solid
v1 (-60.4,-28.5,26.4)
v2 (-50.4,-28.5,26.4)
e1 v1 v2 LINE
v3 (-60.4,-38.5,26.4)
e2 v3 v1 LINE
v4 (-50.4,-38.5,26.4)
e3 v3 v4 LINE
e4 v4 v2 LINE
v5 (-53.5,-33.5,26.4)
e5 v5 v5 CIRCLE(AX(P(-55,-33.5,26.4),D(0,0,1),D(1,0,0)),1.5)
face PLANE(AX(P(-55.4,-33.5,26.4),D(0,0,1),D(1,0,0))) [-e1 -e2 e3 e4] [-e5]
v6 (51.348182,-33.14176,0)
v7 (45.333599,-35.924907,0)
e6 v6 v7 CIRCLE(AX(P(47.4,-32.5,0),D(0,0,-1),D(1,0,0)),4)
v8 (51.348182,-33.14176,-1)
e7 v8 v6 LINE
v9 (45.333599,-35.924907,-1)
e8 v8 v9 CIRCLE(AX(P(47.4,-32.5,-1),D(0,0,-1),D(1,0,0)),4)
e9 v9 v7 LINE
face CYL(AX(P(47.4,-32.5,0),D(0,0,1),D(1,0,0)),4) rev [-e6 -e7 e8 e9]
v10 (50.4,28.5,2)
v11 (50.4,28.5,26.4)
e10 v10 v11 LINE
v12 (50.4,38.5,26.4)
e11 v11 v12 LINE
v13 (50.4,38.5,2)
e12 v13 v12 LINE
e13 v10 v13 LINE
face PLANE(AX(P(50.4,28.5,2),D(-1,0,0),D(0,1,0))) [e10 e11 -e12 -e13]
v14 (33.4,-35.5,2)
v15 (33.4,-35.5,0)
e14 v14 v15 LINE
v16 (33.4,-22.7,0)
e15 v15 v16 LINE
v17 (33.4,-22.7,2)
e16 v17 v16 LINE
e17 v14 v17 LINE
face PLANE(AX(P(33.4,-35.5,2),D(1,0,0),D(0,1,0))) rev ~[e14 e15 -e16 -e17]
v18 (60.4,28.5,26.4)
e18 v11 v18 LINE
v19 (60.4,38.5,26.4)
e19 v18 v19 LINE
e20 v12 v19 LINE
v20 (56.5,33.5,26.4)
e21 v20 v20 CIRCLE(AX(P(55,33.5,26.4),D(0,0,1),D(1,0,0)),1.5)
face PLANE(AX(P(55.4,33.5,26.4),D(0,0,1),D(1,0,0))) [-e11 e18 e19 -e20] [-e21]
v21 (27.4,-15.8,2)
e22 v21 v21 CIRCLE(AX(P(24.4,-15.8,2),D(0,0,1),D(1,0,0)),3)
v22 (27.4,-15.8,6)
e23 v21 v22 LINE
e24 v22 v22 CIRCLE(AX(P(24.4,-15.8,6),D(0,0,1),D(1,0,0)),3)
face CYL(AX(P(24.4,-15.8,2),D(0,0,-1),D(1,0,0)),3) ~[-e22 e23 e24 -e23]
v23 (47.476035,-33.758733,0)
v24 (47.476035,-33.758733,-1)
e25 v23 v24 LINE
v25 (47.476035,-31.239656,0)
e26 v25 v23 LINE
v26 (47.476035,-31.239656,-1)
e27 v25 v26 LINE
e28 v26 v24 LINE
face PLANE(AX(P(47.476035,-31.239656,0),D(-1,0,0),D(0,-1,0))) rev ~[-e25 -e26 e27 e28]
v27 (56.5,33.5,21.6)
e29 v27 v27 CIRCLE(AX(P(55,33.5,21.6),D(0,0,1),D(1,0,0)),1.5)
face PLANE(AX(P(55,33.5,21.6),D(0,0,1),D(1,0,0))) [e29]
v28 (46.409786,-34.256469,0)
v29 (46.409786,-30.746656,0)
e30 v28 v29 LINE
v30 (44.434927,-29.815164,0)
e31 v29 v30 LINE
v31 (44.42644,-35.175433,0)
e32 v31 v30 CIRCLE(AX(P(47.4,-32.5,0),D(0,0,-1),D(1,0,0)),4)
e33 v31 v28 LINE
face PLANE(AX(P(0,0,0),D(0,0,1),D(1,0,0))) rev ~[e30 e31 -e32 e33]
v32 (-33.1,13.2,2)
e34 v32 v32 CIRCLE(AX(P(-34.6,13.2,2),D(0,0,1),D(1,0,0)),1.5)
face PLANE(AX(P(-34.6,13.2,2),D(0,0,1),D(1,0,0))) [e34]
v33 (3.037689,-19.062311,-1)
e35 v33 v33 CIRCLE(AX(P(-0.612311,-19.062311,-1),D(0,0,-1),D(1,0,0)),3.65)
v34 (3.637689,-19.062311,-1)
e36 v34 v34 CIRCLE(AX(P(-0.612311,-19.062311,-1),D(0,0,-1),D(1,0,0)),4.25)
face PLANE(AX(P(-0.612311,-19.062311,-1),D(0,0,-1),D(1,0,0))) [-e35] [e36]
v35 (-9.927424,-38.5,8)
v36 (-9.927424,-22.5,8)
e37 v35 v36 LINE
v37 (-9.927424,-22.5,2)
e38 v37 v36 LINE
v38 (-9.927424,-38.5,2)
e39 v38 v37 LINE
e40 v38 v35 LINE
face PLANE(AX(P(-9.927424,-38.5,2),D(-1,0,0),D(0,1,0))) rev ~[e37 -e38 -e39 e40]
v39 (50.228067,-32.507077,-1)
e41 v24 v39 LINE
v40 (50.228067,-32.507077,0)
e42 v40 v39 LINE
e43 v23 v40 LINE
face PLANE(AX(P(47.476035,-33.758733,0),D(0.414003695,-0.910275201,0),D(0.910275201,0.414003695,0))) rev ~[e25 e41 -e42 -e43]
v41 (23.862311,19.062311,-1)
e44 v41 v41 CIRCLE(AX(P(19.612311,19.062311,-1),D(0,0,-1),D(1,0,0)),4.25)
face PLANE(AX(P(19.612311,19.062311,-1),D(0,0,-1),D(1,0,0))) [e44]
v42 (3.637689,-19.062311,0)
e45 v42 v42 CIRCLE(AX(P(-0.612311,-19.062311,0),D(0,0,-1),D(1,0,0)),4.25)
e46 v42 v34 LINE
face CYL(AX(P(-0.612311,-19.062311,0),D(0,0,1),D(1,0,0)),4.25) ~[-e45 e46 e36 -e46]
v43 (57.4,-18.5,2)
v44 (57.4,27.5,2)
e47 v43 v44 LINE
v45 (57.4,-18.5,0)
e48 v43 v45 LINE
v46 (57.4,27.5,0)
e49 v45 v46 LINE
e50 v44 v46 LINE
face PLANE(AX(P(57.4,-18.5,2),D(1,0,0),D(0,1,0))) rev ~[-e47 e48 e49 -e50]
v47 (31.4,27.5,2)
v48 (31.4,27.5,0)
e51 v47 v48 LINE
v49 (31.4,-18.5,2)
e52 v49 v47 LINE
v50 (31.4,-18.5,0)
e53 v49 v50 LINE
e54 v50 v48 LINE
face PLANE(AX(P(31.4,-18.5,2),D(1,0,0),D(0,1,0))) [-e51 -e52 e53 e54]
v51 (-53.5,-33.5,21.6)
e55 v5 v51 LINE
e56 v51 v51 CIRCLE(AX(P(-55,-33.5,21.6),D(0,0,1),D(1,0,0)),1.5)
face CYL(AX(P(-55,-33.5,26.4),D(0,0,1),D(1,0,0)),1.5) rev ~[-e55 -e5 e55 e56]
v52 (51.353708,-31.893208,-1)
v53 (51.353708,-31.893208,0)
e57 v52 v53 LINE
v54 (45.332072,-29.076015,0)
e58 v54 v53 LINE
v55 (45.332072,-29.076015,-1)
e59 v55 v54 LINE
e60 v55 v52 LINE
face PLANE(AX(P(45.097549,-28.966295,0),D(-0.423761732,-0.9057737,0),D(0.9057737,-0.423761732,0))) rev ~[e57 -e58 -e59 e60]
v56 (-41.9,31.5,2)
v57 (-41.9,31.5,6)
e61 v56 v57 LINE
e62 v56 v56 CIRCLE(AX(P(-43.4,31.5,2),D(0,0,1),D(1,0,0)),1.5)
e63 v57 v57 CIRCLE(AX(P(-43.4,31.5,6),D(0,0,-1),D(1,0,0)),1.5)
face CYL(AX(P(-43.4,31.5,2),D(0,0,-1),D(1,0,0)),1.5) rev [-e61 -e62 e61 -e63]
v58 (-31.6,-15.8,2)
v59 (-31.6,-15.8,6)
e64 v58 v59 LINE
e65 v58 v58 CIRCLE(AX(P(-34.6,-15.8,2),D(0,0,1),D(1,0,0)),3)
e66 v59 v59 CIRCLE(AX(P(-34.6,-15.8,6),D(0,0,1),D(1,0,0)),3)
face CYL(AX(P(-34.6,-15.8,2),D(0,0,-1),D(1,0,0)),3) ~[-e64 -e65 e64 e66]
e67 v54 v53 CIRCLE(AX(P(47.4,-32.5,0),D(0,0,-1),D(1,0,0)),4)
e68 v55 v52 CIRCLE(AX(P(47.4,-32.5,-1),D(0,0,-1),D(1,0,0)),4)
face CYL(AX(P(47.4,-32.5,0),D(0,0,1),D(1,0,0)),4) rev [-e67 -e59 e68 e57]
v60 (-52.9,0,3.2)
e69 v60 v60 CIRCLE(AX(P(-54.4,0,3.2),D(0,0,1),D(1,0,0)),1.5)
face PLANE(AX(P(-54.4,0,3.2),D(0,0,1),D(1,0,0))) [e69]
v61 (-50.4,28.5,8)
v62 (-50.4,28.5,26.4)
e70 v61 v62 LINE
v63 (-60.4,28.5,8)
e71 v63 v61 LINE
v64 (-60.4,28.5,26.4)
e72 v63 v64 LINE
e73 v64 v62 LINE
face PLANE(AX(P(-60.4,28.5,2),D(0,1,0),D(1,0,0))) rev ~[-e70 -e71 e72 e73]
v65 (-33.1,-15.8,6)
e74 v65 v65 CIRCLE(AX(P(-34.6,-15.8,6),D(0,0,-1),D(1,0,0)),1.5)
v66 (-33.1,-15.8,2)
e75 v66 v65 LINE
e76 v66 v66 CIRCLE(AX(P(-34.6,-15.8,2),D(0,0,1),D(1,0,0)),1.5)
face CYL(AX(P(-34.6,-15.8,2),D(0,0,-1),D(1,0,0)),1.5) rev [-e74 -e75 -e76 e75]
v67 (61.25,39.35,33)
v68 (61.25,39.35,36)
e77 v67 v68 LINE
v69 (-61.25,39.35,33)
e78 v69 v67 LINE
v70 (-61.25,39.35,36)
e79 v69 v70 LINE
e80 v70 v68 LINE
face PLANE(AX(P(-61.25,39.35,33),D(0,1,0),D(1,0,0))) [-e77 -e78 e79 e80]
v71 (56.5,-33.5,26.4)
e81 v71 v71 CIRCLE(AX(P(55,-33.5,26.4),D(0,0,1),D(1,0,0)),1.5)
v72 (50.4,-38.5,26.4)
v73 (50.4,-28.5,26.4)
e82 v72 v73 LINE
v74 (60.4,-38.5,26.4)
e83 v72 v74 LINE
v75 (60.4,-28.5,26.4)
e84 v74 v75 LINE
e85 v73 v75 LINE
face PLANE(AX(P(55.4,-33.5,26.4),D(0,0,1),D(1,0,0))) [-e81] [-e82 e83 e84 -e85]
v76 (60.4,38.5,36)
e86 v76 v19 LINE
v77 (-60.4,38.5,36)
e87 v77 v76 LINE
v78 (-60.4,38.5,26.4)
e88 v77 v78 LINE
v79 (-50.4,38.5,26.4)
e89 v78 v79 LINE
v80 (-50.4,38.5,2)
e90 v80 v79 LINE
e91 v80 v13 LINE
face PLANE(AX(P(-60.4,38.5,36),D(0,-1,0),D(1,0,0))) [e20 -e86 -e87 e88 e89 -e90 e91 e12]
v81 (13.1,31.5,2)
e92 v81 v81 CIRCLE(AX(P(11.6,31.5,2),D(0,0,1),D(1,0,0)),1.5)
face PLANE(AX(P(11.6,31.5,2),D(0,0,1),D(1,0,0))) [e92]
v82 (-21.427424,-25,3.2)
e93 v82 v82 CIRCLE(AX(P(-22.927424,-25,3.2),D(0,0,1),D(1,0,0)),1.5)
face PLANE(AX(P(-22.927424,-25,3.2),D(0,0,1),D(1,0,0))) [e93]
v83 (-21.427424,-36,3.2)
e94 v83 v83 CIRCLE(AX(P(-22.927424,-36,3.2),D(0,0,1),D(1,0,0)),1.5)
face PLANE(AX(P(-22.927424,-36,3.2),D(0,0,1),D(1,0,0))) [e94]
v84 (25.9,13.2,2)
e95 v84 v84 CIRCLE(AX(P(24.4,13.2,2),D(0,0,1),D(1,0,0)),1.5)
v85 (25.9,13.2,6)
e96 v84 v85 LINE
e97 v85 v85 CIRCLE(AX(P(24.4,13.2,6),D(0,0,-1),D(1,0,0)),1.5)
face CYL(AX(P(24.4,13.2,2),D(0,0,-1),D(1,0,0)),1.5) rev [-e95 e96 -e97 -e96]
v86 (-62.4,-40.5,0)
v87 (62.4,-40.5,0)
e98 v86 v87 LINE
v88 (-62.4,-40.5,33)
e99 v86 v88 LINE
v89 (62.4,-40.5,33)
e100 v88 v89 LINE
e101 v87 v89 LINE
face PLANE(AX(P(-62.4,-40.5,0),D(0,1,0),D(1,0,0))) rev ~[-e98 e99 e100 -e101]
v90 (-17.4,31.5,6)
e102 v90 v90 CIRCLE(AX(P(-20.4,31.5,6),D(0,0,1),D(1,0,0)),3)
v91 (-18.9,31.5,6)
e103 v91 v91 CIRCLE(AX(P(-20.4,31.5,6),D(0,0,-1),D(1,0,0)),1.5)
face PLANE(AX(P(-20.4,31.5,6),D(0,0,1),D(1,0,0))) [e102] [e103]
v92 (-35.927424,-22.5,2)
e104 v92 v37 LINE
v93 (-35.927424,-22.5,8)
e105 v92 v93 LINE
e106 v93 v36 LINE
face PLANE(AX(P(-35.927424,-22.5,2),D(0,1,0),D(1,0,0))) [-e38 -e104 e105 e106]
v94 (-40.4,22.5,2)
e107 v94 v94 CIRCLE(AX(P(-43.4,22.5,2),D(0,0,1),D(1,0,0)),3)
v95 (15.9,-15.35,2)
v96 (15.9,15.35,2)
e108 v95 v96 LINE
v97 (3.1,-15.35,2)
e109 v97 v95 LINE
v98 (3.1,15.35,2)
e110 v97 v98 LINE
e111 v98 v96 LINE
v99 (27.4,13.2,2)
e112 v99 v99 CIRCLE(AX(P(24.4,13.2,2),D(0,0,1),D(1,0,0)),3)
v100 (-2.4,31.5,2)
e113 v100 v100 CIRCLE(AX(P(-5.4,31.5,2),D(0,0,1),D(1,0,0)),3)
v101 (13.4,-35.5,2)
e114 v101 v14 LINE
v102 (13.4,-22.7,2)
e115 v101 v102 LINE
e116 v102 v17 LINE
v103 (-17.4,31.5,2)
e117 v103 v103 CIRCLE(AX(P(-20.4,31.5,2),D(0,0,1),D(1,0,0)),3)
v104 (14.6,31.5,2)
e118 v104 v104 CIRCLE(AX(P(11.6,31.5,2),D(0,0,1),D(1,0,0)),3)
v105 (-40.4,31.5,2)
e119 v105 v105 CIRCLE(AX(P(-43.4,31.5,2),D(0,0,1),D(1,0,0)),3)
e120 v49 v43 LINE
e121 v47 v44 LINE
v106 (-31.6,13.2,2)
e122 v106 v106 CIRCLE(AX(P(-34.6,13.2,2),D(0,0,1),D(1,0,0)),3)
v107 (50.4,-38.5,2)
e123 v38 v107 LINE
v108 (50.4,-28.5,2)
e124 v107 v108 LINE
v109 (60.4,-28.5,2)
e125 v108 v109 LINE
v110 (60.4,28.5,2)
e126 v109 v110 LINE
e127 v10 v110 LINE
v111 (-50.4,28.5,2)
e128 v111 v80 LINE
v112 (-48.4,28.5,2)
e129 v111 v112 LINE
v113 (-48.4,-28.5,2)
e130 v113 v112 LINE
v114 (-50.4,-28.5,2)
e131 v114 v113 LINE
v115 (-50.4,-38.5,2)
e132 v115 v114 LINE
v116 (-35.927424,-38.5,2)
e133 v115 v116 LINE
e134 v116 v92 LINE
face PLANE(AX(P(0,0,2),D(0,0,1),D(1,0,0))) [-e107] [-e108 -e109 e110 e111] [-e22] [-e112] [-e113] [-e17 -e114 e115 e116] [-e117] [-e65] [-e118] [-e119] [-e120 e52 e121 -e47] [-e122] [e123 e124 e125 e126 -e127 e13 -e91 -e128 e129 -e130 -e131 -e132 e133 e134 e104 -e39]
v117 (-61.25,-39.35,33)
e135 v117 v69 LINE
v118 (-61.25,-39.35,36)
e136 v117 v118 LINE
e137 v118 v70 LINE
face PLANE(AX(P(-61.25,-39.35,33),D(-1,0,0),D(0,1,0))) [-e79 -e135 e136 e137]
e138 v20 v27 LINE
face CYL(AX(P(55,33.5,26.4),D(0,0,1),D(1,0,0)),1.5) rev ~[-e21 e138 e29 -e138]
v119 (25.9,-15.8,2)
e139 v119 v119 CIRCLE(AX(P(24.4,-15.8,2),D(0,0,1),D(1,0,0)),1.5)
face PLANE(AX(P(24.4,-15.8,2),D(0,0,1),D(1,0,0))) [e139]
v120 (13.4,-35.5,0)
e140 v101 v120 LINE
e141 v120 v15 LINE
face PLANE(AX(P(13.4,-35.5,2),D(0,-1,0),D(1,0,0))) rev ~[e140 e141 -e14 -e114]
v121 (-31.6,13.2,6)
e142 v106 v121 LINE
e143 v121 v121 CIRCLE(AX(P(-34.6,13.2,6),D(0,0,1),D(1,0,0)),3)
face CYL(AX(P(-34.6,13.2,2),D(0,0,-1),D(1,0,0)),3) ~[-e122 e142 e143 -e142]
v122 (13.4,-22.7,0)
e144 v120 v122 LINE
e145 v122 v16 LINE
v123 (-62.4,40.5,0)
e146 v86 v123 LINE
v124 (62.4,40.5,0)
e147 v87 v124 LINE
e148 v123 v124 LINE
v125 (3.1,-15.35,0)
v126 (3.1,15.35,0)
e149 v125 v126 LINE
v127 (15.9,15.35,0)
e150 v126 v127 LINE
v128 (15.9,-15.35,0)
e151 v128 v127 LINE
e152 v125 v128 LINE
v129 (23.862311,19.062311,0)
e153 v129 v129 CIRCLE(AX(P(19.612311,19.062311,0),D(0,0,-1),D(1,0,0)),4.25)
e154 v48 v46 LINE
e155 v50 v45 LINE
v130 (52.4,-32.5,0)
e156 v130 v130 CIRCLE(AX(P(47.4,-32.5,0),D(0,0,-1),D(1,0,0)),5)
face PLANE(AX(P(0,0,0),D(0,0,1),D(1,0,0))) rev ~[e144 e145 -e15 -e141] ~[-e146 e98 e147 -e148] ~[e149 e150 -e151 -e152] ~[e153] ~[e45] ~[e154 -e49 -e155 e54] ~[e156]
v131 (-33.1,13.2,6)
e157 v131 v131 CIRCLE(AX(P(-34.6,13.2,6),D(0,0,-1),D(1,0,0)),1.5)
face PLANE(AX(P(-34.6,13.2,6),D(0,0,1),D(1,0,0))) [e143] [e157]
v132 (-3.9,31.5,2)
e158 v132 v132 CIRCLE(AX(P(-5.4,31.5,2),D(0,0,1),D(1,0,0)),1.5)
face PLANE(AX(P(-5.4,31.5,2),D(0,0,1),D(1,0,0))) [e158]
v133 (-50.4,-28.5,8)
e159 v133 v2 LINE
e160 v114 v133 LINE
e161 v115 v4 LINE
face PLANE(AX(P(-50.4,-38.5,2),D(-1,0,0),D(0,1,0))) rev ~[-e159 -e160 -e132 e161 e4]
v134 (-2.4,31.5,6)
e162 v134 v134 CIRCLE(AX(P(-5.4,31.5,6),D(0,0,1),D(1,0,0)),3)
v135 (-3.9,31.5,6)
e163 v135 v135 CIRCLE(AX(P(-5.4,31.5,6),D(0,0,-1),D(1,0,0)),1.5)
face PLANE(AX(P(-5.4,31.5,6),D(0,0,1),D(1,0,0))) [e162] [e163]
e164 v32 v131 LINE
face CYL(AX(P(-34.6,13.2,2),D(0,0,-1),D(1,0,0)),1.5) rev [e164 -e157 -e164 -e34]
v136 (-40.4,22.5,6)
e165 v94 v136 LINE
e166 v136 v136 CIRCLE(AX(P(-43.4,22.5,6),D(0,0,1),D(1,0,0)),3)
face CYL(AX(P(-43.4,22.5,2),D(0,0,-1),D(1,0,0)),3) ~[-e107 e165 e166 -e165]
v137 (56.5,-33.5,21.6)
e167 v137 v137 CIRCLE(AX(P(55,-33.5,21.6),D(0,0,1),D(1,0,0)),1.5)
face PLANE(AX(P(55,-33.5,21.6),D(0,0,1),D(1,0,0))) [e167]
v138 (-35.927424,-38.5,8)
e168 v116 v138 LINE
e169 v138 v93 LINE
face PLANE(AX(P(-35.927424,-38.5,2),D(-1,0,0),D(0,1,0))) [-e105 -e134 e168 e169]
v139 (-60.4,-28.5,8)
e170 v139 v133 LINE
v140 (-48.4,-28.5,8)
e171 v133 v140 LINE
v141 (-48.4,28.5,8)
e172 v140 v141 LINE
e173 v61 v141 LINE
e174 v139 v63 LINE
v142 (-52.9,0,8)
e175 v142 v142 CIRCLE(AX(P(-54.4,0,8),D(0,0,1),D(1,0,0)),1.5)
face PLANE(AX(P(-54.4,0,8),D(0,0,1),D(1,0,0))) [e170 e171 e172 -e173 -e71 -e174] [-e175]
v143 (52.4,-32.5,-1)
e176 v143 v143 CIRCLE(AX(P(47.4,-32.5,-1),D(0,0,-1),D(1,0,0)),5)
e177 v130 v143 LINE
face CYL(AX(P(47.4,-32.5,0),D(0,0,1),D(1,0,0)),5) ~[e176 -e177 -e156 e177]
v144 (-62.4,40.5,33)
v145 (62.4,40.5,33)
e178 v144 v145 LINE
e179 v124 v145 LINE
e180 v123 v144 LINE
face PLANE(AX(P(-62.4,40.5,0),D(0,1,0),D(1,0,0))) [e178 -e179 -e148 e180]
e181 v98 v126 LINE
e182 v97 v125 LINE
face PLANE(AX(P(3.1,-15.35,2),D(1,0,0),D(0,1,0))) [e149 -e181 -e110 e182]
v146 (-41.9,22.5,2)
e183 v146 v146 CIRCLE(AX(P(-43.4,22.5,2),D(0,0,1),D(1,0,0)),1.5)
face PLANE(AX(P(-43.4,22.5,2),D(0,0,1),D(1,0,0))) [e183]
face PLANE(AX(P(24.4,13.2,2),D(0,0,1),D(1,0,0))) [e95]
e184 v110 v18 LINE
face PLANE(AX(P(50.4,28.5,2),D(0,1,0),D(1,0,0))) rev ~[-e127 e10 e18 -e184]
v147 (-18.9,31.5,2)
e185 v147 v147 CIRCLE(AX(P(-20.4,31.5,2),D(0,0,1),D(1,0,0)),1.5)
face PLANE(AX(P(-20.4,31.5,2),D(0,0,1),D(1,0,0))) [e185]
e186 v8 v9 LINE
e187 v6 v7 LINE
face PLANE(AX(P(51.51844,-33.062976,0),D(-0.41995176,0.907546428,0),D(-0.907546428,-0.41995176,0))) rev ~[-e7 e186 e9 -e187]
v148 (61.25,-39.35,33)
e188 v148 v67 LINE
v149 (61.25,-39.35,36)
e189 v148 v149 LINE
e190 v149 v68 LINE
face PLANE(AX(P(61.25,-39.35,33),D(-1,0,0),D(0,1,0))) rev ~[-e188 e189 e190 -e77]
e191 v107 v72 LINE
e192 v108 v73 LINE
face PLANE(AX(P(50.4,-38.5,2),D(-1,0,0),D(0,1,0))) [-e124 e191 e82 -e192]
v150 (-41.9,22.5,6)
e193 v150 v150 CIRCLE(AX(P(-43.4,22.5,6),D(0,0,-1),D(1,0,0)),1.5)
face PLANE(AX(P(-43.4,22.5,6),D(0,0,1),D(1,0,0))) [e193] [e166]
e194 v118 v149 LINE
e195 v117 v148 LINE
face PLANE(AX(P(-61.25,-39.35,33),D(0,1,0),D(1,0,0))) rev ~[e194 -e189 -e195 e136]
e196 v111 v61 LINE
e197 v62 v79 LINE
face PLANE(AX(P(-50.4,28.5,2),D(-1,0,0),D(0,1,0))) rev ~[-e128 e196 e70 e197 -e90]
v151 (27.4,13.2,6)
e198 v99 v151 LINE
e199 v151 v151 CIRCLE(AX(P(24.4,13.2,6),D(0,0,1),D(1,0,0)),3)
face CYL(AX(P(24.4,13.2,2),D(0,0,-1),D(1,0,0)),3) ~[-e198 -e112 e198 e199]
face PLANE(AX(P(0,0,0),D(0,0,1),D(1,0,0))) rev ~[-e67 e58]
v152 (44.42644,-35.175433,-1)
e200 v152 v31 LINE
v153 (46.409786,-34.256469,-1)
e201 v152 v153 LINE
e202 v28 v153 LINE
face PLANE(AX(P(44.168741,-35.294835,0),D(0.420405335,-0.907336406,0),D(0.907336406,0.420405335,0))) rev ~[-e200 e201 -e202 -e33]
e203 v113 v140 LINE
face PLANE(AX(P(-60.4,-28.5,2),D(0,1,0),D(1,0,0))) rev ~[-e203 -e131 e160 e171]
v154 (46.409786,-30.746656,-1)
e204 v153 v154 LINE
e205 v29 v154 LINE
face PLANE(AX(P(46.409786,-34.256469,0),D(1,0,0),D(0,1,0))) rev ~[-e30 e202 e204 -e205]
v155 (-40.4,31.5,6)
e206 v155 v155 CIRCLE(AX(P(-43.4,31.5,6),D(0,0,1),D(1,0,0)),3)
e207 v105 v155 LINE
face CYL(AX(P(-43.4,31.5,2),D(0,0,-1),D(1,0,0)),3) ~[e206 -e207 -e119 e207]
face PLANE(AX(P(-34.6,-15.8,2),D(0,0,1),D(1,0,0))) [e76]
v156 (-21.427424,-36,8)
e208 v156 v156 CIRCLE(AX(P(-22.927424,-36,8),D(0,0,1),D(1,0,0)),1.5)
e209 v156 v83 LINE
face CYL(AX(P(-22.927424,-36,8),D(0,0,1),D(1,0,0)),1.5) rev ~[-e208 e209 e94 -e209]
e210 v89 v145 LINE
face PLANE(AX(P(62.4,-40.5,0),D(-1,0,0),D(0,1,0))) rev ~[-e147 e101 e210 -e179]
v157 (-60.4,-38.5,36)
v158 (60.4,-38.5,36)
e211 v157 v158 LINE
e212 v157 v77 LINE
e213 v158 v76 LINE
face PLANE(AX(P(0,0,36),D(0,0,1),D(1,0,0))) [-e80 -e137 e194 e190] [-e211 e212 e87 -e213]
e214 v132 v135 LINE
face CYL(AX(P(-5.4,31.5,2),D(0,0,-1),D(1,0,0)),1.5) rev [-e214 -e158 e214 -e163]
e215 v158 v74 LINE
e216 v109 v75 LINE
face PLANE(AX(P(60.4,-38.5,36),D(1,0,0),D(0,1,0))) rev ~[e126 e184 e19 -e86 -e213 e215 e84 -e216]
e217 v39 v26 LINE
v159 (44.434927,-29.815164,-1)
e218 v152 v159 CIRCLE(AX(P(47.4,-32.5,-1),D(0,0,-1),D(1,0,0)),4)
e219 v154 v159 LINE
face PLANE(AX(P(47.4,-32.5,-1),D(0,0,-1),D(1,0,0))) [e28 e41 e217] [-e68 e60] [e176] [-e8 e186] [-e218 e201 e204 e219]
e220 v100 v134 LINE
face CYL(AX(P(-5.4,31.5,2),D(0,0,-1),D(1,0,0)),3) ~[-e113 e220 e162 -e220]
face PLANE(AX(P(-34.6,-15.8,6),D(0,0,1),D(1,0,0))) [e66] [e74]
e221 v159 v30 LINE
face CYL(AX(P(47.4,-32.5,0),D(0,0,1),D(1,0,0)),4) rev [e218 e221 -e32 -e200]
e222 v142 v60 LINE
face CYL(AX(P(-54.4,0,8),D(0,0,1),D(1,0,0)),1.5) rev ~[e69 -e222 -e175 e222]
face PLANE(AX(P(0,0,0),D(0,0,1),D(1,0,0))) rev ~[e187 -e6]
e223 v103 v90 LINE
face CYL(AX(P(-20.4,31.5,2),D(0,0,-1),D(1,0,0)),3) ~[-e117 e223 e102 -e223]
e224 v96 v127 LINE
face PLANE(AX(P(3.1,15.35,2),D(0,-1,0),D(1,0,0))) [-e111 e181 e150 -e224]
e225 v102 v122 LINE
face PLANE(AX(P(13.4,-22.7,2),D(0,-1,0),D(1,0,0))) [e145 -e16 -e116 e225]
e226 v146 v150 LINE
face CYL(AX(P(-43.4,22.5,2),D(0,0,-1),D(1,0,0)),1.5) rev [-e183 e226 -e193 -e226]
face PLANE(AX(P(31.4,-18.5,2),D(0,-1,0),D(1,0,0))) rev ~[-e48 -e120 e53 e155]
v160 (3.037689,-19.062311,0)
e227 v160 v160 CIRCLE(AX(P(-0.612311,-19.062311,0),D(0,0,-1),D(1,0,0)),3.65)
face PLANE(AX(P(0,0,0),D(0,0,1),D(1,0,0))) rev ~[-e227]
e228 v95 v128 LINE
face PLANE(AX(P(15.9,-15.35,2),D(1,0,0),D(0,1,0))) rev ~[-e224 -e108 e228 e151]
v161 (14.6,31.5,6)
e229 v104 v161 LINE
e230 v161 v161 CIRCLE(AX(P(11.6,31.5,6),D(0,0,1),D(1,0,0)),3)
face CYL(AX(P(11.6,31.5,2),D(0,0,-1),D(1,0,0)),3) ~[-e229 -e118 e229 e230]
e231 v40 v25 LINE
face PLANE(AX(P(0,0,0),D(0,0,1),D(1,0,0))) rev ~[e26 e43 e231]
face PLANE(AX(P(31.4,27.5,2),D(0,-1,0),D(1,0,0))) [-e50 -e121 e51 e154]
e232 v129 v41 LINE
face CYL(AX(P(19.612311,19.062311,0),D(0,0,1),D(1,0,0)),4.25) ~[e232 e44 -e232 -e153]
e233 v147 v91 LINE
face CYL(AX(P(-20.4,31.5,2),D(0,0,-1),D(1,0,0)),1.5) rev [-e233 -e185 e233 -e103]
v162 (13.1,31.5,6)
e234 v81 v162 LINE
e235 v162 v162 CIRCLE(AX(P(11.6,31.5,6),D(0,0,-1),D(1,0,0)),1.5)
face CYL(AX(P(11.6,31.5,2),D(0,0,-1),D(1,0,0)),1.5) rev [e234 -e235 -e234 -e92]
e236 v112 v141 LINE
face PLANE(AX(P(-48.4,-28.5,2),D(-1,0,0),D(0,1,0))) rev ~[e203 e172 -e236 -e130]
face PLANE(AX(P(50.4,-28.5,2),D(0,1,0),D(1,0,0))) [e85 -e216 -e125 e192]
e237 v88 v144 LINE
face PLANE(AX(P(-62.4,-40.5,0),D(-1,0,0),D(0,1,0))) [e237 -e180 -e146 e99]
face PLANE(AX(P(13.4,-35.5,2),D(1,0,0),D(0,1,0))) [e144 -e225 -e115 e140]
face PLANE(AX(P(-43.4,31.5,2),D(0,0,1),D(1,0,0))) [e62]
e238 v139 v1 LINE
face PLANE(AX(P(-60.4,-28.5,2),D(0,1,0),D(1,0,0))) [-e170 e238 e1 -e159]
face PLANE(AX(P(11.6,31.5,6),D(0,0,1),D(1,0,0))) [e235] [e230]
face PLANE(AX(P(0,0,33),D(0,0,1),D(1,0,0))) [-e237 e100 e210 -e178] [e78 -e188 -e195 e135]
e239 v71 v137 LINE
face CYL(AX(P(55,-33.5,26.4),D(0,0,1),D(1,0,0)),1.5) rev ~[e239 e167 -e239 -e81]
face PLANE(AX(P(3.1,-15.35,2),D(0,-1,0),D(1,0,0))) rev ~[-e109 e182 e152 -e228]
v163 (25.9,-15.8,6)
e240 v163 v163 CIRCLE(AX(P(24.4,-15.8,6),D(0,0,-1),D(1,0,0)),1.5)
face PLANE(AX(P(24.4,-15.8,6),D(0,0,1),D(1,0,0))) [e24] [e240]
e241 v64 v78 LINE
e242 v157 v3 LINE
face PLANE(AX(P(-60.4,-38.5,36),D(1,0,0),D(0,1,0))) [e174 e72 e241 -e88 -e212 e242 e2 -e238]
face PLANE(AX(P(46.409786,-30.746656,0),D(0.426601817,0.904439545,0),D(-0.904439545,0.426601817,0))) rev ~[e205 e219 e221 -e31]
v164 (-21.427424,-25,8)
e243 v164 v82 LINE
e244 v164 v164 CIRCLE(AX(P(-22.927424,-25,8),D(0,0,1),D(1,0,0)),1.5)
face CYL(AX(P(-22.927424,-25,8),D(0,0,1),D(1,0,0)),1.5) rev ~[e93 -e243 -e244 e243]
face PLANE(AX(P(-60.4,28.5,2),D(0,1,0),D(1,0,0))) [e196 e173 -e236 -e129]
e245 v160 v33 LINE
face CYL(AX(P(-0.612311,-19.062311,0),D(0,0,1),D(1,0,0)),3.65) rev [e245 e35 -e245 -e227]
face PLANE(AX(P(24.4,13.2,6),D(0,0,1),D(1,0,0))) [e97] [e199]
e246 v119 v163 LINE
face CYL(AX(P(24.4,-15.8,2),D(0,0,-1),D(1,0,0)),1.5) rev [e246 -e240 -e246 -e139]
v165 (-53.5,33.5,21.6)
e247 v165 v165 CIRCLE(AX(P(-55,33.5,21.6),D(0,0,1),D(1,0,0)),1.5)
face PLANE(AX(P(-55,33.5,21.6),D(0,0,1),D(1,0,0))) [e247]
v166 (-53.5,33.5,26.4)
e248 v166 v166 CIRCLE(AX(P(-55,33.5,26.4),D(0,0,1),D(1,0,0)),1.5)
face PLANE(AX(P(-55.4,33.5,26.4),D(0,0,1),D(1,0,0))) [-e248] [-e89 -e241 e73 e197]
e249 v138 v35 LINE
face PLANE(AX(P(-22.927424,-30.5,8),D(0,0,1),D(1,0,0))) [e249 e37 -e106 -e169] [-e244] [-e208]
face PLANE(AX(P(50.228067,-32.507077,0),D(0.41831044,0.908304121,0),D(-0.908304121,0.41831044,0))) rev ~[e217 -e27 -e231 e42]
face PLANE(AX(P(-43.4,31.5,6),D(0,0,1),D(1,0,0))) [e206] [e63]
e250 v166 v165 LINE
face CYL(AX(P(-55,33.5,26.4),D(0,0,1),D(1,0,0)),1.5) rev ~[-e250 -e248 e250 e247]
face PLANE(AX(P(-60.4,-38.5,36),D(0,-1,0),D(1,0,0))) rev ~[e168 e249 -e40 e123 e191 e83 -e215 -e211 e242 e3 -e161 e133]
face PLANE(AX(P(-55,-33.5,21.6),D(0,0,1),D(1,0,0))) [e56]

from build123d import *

# Parameters (mm, degrees)
F0_W      = 124.8
F0_H      = 81
F1_DEPTH  = 33
F2_W      = 122.5
F2_H      = 78.7
F3_DEPTH  = 3
F4_W      = 120.8
F4_H      = 77
F5_DEPTH  = 34
F6_W      = 10
F6_H      = 10
F7_DEPTH  = 24.4
F8_R      = 1.5
F9_DEPTH  = 4.8
F10_W     = 26
F10_H     = 46
F10_W_2   = 20
F10_H_2   = 12.8
F10_W_3   = 12.8
F10_H_3   = 30.7
F11_DEPTH = 2.001
F12_R     = 3
F13_DEPTH = 4
F14_R     = 1.5
F15_DEPTH = 4.8
F16_W     = 12
F16_H     = 57
F17_DEPTH = 6
F18_R     = 1.5
F19_DEPTH = 4.8
F20_W     = 26
F20_H     = 16
F21_DEPTH = 6
F22_R     = 1.5
F23_DEPTH = 4.8
F24_R     = 5
F24_R_2   = 4
F25_DEPTH = 1
F27_DEPTH = 1
F28_R     = 4.25
F28_R_2   = 3.65
F29_DEPTH = 1


with BuildPart() as f1:
    # F0 (on Top) → F1 (new body)
    with BuildSketch(Plane.XY):
        Rectangle(F0_W, F0_H)
    extrude(amount=F1_DEPTH)

    # F2 (on face) → F3 (join)
    with BuildSketch(Plane.XY.offset(33)):
        Rectangle(F2_W, F2_H)
    extrude(amount=F3_DEPTH)

    # F4 (on face) → F5 (cut)
    with BuildSketch(Plane.XY.offset(36)):
        Rectangle(F4_W, F4_H)
    extrude(amount=-F5_DEPTH, mode=Mode.SUBTRACT)

    # F6 (on face) → F7 (join)
    with BuildSketch(Plane.XY.offset(2)):
        with Locations((-55.4, 33.5)):
            Rectangle(F6_W, F6_H)
        with Locations((-55.4, -33.5)):
            Rectangle(F6_W, F6_H)
        with Locations((55.4, -33.5)):
            Rectangle(F6_W, F6_H)
        with Locations((55.4, 33.5)):
            Rectangle(F6_W, F6_H)
    extrude(amount=F7_DEPTH)

    # F8 (on face) → F9 (cut)
    with BuildSketch(Plane.XY.offset(26.4)):
        with Locations((-55, 33.5)):
            Circle(F8_R)
        with Locations((-55, -33.5)):
            Circle(F8_R)
        with Locations((55, -33.5)):
            Circle(F8_R)
        with Locations((55, 33.5)):
            Circle(F8_R)
    extrude(amount=-F9_DEPTH, mode=Mode.SUBTRACT)

    # F10 (on face) → F11 (cut, through all)
    with BuildSketch(Plane.XY.offset(2)):
        with Locations((44.4, 4.5)):
            Rectangle(F10_W, F10_H)
        with Locations((23.4, -29.1)):
            Rectangle(F10_W_2, F10_H_2)
        with Locations((9.5, 0)):
            Rectangle(F10_W_3, F10_H_3)
    extrude(amount=-F11_DEPTH, mode=Mode.SUBTRACT)

    # F12 (on face) → F13 (join)
    with BuildSketch(Plane.XY.offset(2)):
        with Locations((24.4, 13.2)):
            Circle(F12_R)
        with Locations((-34.6, 13.2)):
            Circle(F12_R)
        with Locations((-34.6, -15.8)):
            Circle(F12_R)
        with Locations((24.4, -15.8)):
            Circle(F12_R)
        with Locations((-43.4, 31.5)):
            Circle(F12_R)
        with Locations((-43.4, 22.5)):
            Circle(F12_R)
        with Locations((-20.4, 31.5)):
            Circle(F12_R)
        with Locations((-5.4, 31.5)):
            Circle(F12_R)
        with Locations((11.6, 31.5)):
            Circle(F12_R)
    extrude(amount=F13_DEPTH)

    # F14 (on face) → F15 (cut)
    with BuildSketch(Plane.XY.offset(2)):
        with Locations((-34.6, -15.8)):
            Circle(F14_R)
        with Locations((24.4, -15.8)):
            Circle(F14_R)
        with Locations((-34.6, 13.2)):
            Circle(F14_R)
        with Locations((24.4, 13.2)):
            Circle(F14_R)
        with Locations((11.6, 31.5)):
            Circle(F14_R)
        with Locations((-5.4, 31.5)):
            Circle(F14_R)
        with Locations((-20.4, 31.5)):
            Circle(F14_R)
        with Locations((-43.4, 22.5)):
            Circle(F14_R)
        with Locations((-43.4, 31.5)):
            Circle(F14_R)
    extrude(amount=F15_DEPTH, mode=Mode.SUBTRACT)

    # F16 (on face) → F17 (join)
    with BuildSketch(Plane.XY.offset(2)):
        with Locations((-54.4, 0)):
            Rectangle(F16_W, F16_H)
    extrude(amount=F17_DEPTH)

    # F18 (on face) → F19 (cut)
    with BuildSketch(Plane.XY.offset(8)):
        with Locations((-54.4, 0)):
            Circle(F18_R)
    extrude(amount=-F19_DEPTH, mode=Mode.SUBTRACT)

    # F20 (on face) → F21 (join)
    with BuildSketch(Plane.XY.offset(2)):
        with Locations((-22.927424, -30.5)):
            Rectangle(F20_W, F20_H)
    extrude(amount=F21_DEPTH)

    # F22 (on face) → F23 (cut)
    with BuildSketch(Plane.XY.offset(8)):
        with Locations((-22.927424, -25)):
            Circle(F22_R)
        with Locations((-22.927424, -36)):
            Circle(F22_R)
    extrude(amount=-F23_DEPTH, mode=Mode.SUBTRACT)

    # F24 (on face) → F25 (join)
    with BuildSketch(Plane(origin=(0, 0, 0), x_dir=(1, 0, 0), z_dir=(0, 0, -1))):
        with Locations((47.4, 32.5)):
            Circle(F24_R)
        with Locations((47.4, 32.5)):
            Circle(F24_R_2, mode=Mode.SUBTRACT)
    extrude(amount=F25_DEPTH)

    # F26 (on face) → F27 (join)
    with BuildSketch(Plane(origin=(0, 0, 0), x_dir=(1, 0, 0), z_dir=(0, 0, -1))):
        Polygon((51.51844, 33.062976), (44.911735, 36.120117), (44.168741, 35.294835), (46.409786, 34.256469), (46.409786, 30.746656), (44.189125, 29.699225), (45.097549, 28.966295), (51.51844, 31.970277), align=None)
        Polygon((47.476035, 33.758733), (50.228067, 32.507077), (47.476035, 31.239656), align=None, mode=Mode.SUBTRACT)
    extrude(amount=F27_DEPTH)

    # F28 (on face) → F29 (join)
    with BuildSketch(Plane(origin=(0, 0, 0), x_dir=(1, 0, 0), z_dir=(0, 0, -1))):
        with Locations((19.612311, -19.062311)):
            Circle(F28_R)
        with Locations((-0.612311, 19.062311)):
            Circle(F28_R)
        with Locations((-0.612311, 19.062311)):
            Circle(F28_R_2, mode=Mode.SUBTRACT)
    extrude(amount=F29_DEPTH)


solid = f1.part
